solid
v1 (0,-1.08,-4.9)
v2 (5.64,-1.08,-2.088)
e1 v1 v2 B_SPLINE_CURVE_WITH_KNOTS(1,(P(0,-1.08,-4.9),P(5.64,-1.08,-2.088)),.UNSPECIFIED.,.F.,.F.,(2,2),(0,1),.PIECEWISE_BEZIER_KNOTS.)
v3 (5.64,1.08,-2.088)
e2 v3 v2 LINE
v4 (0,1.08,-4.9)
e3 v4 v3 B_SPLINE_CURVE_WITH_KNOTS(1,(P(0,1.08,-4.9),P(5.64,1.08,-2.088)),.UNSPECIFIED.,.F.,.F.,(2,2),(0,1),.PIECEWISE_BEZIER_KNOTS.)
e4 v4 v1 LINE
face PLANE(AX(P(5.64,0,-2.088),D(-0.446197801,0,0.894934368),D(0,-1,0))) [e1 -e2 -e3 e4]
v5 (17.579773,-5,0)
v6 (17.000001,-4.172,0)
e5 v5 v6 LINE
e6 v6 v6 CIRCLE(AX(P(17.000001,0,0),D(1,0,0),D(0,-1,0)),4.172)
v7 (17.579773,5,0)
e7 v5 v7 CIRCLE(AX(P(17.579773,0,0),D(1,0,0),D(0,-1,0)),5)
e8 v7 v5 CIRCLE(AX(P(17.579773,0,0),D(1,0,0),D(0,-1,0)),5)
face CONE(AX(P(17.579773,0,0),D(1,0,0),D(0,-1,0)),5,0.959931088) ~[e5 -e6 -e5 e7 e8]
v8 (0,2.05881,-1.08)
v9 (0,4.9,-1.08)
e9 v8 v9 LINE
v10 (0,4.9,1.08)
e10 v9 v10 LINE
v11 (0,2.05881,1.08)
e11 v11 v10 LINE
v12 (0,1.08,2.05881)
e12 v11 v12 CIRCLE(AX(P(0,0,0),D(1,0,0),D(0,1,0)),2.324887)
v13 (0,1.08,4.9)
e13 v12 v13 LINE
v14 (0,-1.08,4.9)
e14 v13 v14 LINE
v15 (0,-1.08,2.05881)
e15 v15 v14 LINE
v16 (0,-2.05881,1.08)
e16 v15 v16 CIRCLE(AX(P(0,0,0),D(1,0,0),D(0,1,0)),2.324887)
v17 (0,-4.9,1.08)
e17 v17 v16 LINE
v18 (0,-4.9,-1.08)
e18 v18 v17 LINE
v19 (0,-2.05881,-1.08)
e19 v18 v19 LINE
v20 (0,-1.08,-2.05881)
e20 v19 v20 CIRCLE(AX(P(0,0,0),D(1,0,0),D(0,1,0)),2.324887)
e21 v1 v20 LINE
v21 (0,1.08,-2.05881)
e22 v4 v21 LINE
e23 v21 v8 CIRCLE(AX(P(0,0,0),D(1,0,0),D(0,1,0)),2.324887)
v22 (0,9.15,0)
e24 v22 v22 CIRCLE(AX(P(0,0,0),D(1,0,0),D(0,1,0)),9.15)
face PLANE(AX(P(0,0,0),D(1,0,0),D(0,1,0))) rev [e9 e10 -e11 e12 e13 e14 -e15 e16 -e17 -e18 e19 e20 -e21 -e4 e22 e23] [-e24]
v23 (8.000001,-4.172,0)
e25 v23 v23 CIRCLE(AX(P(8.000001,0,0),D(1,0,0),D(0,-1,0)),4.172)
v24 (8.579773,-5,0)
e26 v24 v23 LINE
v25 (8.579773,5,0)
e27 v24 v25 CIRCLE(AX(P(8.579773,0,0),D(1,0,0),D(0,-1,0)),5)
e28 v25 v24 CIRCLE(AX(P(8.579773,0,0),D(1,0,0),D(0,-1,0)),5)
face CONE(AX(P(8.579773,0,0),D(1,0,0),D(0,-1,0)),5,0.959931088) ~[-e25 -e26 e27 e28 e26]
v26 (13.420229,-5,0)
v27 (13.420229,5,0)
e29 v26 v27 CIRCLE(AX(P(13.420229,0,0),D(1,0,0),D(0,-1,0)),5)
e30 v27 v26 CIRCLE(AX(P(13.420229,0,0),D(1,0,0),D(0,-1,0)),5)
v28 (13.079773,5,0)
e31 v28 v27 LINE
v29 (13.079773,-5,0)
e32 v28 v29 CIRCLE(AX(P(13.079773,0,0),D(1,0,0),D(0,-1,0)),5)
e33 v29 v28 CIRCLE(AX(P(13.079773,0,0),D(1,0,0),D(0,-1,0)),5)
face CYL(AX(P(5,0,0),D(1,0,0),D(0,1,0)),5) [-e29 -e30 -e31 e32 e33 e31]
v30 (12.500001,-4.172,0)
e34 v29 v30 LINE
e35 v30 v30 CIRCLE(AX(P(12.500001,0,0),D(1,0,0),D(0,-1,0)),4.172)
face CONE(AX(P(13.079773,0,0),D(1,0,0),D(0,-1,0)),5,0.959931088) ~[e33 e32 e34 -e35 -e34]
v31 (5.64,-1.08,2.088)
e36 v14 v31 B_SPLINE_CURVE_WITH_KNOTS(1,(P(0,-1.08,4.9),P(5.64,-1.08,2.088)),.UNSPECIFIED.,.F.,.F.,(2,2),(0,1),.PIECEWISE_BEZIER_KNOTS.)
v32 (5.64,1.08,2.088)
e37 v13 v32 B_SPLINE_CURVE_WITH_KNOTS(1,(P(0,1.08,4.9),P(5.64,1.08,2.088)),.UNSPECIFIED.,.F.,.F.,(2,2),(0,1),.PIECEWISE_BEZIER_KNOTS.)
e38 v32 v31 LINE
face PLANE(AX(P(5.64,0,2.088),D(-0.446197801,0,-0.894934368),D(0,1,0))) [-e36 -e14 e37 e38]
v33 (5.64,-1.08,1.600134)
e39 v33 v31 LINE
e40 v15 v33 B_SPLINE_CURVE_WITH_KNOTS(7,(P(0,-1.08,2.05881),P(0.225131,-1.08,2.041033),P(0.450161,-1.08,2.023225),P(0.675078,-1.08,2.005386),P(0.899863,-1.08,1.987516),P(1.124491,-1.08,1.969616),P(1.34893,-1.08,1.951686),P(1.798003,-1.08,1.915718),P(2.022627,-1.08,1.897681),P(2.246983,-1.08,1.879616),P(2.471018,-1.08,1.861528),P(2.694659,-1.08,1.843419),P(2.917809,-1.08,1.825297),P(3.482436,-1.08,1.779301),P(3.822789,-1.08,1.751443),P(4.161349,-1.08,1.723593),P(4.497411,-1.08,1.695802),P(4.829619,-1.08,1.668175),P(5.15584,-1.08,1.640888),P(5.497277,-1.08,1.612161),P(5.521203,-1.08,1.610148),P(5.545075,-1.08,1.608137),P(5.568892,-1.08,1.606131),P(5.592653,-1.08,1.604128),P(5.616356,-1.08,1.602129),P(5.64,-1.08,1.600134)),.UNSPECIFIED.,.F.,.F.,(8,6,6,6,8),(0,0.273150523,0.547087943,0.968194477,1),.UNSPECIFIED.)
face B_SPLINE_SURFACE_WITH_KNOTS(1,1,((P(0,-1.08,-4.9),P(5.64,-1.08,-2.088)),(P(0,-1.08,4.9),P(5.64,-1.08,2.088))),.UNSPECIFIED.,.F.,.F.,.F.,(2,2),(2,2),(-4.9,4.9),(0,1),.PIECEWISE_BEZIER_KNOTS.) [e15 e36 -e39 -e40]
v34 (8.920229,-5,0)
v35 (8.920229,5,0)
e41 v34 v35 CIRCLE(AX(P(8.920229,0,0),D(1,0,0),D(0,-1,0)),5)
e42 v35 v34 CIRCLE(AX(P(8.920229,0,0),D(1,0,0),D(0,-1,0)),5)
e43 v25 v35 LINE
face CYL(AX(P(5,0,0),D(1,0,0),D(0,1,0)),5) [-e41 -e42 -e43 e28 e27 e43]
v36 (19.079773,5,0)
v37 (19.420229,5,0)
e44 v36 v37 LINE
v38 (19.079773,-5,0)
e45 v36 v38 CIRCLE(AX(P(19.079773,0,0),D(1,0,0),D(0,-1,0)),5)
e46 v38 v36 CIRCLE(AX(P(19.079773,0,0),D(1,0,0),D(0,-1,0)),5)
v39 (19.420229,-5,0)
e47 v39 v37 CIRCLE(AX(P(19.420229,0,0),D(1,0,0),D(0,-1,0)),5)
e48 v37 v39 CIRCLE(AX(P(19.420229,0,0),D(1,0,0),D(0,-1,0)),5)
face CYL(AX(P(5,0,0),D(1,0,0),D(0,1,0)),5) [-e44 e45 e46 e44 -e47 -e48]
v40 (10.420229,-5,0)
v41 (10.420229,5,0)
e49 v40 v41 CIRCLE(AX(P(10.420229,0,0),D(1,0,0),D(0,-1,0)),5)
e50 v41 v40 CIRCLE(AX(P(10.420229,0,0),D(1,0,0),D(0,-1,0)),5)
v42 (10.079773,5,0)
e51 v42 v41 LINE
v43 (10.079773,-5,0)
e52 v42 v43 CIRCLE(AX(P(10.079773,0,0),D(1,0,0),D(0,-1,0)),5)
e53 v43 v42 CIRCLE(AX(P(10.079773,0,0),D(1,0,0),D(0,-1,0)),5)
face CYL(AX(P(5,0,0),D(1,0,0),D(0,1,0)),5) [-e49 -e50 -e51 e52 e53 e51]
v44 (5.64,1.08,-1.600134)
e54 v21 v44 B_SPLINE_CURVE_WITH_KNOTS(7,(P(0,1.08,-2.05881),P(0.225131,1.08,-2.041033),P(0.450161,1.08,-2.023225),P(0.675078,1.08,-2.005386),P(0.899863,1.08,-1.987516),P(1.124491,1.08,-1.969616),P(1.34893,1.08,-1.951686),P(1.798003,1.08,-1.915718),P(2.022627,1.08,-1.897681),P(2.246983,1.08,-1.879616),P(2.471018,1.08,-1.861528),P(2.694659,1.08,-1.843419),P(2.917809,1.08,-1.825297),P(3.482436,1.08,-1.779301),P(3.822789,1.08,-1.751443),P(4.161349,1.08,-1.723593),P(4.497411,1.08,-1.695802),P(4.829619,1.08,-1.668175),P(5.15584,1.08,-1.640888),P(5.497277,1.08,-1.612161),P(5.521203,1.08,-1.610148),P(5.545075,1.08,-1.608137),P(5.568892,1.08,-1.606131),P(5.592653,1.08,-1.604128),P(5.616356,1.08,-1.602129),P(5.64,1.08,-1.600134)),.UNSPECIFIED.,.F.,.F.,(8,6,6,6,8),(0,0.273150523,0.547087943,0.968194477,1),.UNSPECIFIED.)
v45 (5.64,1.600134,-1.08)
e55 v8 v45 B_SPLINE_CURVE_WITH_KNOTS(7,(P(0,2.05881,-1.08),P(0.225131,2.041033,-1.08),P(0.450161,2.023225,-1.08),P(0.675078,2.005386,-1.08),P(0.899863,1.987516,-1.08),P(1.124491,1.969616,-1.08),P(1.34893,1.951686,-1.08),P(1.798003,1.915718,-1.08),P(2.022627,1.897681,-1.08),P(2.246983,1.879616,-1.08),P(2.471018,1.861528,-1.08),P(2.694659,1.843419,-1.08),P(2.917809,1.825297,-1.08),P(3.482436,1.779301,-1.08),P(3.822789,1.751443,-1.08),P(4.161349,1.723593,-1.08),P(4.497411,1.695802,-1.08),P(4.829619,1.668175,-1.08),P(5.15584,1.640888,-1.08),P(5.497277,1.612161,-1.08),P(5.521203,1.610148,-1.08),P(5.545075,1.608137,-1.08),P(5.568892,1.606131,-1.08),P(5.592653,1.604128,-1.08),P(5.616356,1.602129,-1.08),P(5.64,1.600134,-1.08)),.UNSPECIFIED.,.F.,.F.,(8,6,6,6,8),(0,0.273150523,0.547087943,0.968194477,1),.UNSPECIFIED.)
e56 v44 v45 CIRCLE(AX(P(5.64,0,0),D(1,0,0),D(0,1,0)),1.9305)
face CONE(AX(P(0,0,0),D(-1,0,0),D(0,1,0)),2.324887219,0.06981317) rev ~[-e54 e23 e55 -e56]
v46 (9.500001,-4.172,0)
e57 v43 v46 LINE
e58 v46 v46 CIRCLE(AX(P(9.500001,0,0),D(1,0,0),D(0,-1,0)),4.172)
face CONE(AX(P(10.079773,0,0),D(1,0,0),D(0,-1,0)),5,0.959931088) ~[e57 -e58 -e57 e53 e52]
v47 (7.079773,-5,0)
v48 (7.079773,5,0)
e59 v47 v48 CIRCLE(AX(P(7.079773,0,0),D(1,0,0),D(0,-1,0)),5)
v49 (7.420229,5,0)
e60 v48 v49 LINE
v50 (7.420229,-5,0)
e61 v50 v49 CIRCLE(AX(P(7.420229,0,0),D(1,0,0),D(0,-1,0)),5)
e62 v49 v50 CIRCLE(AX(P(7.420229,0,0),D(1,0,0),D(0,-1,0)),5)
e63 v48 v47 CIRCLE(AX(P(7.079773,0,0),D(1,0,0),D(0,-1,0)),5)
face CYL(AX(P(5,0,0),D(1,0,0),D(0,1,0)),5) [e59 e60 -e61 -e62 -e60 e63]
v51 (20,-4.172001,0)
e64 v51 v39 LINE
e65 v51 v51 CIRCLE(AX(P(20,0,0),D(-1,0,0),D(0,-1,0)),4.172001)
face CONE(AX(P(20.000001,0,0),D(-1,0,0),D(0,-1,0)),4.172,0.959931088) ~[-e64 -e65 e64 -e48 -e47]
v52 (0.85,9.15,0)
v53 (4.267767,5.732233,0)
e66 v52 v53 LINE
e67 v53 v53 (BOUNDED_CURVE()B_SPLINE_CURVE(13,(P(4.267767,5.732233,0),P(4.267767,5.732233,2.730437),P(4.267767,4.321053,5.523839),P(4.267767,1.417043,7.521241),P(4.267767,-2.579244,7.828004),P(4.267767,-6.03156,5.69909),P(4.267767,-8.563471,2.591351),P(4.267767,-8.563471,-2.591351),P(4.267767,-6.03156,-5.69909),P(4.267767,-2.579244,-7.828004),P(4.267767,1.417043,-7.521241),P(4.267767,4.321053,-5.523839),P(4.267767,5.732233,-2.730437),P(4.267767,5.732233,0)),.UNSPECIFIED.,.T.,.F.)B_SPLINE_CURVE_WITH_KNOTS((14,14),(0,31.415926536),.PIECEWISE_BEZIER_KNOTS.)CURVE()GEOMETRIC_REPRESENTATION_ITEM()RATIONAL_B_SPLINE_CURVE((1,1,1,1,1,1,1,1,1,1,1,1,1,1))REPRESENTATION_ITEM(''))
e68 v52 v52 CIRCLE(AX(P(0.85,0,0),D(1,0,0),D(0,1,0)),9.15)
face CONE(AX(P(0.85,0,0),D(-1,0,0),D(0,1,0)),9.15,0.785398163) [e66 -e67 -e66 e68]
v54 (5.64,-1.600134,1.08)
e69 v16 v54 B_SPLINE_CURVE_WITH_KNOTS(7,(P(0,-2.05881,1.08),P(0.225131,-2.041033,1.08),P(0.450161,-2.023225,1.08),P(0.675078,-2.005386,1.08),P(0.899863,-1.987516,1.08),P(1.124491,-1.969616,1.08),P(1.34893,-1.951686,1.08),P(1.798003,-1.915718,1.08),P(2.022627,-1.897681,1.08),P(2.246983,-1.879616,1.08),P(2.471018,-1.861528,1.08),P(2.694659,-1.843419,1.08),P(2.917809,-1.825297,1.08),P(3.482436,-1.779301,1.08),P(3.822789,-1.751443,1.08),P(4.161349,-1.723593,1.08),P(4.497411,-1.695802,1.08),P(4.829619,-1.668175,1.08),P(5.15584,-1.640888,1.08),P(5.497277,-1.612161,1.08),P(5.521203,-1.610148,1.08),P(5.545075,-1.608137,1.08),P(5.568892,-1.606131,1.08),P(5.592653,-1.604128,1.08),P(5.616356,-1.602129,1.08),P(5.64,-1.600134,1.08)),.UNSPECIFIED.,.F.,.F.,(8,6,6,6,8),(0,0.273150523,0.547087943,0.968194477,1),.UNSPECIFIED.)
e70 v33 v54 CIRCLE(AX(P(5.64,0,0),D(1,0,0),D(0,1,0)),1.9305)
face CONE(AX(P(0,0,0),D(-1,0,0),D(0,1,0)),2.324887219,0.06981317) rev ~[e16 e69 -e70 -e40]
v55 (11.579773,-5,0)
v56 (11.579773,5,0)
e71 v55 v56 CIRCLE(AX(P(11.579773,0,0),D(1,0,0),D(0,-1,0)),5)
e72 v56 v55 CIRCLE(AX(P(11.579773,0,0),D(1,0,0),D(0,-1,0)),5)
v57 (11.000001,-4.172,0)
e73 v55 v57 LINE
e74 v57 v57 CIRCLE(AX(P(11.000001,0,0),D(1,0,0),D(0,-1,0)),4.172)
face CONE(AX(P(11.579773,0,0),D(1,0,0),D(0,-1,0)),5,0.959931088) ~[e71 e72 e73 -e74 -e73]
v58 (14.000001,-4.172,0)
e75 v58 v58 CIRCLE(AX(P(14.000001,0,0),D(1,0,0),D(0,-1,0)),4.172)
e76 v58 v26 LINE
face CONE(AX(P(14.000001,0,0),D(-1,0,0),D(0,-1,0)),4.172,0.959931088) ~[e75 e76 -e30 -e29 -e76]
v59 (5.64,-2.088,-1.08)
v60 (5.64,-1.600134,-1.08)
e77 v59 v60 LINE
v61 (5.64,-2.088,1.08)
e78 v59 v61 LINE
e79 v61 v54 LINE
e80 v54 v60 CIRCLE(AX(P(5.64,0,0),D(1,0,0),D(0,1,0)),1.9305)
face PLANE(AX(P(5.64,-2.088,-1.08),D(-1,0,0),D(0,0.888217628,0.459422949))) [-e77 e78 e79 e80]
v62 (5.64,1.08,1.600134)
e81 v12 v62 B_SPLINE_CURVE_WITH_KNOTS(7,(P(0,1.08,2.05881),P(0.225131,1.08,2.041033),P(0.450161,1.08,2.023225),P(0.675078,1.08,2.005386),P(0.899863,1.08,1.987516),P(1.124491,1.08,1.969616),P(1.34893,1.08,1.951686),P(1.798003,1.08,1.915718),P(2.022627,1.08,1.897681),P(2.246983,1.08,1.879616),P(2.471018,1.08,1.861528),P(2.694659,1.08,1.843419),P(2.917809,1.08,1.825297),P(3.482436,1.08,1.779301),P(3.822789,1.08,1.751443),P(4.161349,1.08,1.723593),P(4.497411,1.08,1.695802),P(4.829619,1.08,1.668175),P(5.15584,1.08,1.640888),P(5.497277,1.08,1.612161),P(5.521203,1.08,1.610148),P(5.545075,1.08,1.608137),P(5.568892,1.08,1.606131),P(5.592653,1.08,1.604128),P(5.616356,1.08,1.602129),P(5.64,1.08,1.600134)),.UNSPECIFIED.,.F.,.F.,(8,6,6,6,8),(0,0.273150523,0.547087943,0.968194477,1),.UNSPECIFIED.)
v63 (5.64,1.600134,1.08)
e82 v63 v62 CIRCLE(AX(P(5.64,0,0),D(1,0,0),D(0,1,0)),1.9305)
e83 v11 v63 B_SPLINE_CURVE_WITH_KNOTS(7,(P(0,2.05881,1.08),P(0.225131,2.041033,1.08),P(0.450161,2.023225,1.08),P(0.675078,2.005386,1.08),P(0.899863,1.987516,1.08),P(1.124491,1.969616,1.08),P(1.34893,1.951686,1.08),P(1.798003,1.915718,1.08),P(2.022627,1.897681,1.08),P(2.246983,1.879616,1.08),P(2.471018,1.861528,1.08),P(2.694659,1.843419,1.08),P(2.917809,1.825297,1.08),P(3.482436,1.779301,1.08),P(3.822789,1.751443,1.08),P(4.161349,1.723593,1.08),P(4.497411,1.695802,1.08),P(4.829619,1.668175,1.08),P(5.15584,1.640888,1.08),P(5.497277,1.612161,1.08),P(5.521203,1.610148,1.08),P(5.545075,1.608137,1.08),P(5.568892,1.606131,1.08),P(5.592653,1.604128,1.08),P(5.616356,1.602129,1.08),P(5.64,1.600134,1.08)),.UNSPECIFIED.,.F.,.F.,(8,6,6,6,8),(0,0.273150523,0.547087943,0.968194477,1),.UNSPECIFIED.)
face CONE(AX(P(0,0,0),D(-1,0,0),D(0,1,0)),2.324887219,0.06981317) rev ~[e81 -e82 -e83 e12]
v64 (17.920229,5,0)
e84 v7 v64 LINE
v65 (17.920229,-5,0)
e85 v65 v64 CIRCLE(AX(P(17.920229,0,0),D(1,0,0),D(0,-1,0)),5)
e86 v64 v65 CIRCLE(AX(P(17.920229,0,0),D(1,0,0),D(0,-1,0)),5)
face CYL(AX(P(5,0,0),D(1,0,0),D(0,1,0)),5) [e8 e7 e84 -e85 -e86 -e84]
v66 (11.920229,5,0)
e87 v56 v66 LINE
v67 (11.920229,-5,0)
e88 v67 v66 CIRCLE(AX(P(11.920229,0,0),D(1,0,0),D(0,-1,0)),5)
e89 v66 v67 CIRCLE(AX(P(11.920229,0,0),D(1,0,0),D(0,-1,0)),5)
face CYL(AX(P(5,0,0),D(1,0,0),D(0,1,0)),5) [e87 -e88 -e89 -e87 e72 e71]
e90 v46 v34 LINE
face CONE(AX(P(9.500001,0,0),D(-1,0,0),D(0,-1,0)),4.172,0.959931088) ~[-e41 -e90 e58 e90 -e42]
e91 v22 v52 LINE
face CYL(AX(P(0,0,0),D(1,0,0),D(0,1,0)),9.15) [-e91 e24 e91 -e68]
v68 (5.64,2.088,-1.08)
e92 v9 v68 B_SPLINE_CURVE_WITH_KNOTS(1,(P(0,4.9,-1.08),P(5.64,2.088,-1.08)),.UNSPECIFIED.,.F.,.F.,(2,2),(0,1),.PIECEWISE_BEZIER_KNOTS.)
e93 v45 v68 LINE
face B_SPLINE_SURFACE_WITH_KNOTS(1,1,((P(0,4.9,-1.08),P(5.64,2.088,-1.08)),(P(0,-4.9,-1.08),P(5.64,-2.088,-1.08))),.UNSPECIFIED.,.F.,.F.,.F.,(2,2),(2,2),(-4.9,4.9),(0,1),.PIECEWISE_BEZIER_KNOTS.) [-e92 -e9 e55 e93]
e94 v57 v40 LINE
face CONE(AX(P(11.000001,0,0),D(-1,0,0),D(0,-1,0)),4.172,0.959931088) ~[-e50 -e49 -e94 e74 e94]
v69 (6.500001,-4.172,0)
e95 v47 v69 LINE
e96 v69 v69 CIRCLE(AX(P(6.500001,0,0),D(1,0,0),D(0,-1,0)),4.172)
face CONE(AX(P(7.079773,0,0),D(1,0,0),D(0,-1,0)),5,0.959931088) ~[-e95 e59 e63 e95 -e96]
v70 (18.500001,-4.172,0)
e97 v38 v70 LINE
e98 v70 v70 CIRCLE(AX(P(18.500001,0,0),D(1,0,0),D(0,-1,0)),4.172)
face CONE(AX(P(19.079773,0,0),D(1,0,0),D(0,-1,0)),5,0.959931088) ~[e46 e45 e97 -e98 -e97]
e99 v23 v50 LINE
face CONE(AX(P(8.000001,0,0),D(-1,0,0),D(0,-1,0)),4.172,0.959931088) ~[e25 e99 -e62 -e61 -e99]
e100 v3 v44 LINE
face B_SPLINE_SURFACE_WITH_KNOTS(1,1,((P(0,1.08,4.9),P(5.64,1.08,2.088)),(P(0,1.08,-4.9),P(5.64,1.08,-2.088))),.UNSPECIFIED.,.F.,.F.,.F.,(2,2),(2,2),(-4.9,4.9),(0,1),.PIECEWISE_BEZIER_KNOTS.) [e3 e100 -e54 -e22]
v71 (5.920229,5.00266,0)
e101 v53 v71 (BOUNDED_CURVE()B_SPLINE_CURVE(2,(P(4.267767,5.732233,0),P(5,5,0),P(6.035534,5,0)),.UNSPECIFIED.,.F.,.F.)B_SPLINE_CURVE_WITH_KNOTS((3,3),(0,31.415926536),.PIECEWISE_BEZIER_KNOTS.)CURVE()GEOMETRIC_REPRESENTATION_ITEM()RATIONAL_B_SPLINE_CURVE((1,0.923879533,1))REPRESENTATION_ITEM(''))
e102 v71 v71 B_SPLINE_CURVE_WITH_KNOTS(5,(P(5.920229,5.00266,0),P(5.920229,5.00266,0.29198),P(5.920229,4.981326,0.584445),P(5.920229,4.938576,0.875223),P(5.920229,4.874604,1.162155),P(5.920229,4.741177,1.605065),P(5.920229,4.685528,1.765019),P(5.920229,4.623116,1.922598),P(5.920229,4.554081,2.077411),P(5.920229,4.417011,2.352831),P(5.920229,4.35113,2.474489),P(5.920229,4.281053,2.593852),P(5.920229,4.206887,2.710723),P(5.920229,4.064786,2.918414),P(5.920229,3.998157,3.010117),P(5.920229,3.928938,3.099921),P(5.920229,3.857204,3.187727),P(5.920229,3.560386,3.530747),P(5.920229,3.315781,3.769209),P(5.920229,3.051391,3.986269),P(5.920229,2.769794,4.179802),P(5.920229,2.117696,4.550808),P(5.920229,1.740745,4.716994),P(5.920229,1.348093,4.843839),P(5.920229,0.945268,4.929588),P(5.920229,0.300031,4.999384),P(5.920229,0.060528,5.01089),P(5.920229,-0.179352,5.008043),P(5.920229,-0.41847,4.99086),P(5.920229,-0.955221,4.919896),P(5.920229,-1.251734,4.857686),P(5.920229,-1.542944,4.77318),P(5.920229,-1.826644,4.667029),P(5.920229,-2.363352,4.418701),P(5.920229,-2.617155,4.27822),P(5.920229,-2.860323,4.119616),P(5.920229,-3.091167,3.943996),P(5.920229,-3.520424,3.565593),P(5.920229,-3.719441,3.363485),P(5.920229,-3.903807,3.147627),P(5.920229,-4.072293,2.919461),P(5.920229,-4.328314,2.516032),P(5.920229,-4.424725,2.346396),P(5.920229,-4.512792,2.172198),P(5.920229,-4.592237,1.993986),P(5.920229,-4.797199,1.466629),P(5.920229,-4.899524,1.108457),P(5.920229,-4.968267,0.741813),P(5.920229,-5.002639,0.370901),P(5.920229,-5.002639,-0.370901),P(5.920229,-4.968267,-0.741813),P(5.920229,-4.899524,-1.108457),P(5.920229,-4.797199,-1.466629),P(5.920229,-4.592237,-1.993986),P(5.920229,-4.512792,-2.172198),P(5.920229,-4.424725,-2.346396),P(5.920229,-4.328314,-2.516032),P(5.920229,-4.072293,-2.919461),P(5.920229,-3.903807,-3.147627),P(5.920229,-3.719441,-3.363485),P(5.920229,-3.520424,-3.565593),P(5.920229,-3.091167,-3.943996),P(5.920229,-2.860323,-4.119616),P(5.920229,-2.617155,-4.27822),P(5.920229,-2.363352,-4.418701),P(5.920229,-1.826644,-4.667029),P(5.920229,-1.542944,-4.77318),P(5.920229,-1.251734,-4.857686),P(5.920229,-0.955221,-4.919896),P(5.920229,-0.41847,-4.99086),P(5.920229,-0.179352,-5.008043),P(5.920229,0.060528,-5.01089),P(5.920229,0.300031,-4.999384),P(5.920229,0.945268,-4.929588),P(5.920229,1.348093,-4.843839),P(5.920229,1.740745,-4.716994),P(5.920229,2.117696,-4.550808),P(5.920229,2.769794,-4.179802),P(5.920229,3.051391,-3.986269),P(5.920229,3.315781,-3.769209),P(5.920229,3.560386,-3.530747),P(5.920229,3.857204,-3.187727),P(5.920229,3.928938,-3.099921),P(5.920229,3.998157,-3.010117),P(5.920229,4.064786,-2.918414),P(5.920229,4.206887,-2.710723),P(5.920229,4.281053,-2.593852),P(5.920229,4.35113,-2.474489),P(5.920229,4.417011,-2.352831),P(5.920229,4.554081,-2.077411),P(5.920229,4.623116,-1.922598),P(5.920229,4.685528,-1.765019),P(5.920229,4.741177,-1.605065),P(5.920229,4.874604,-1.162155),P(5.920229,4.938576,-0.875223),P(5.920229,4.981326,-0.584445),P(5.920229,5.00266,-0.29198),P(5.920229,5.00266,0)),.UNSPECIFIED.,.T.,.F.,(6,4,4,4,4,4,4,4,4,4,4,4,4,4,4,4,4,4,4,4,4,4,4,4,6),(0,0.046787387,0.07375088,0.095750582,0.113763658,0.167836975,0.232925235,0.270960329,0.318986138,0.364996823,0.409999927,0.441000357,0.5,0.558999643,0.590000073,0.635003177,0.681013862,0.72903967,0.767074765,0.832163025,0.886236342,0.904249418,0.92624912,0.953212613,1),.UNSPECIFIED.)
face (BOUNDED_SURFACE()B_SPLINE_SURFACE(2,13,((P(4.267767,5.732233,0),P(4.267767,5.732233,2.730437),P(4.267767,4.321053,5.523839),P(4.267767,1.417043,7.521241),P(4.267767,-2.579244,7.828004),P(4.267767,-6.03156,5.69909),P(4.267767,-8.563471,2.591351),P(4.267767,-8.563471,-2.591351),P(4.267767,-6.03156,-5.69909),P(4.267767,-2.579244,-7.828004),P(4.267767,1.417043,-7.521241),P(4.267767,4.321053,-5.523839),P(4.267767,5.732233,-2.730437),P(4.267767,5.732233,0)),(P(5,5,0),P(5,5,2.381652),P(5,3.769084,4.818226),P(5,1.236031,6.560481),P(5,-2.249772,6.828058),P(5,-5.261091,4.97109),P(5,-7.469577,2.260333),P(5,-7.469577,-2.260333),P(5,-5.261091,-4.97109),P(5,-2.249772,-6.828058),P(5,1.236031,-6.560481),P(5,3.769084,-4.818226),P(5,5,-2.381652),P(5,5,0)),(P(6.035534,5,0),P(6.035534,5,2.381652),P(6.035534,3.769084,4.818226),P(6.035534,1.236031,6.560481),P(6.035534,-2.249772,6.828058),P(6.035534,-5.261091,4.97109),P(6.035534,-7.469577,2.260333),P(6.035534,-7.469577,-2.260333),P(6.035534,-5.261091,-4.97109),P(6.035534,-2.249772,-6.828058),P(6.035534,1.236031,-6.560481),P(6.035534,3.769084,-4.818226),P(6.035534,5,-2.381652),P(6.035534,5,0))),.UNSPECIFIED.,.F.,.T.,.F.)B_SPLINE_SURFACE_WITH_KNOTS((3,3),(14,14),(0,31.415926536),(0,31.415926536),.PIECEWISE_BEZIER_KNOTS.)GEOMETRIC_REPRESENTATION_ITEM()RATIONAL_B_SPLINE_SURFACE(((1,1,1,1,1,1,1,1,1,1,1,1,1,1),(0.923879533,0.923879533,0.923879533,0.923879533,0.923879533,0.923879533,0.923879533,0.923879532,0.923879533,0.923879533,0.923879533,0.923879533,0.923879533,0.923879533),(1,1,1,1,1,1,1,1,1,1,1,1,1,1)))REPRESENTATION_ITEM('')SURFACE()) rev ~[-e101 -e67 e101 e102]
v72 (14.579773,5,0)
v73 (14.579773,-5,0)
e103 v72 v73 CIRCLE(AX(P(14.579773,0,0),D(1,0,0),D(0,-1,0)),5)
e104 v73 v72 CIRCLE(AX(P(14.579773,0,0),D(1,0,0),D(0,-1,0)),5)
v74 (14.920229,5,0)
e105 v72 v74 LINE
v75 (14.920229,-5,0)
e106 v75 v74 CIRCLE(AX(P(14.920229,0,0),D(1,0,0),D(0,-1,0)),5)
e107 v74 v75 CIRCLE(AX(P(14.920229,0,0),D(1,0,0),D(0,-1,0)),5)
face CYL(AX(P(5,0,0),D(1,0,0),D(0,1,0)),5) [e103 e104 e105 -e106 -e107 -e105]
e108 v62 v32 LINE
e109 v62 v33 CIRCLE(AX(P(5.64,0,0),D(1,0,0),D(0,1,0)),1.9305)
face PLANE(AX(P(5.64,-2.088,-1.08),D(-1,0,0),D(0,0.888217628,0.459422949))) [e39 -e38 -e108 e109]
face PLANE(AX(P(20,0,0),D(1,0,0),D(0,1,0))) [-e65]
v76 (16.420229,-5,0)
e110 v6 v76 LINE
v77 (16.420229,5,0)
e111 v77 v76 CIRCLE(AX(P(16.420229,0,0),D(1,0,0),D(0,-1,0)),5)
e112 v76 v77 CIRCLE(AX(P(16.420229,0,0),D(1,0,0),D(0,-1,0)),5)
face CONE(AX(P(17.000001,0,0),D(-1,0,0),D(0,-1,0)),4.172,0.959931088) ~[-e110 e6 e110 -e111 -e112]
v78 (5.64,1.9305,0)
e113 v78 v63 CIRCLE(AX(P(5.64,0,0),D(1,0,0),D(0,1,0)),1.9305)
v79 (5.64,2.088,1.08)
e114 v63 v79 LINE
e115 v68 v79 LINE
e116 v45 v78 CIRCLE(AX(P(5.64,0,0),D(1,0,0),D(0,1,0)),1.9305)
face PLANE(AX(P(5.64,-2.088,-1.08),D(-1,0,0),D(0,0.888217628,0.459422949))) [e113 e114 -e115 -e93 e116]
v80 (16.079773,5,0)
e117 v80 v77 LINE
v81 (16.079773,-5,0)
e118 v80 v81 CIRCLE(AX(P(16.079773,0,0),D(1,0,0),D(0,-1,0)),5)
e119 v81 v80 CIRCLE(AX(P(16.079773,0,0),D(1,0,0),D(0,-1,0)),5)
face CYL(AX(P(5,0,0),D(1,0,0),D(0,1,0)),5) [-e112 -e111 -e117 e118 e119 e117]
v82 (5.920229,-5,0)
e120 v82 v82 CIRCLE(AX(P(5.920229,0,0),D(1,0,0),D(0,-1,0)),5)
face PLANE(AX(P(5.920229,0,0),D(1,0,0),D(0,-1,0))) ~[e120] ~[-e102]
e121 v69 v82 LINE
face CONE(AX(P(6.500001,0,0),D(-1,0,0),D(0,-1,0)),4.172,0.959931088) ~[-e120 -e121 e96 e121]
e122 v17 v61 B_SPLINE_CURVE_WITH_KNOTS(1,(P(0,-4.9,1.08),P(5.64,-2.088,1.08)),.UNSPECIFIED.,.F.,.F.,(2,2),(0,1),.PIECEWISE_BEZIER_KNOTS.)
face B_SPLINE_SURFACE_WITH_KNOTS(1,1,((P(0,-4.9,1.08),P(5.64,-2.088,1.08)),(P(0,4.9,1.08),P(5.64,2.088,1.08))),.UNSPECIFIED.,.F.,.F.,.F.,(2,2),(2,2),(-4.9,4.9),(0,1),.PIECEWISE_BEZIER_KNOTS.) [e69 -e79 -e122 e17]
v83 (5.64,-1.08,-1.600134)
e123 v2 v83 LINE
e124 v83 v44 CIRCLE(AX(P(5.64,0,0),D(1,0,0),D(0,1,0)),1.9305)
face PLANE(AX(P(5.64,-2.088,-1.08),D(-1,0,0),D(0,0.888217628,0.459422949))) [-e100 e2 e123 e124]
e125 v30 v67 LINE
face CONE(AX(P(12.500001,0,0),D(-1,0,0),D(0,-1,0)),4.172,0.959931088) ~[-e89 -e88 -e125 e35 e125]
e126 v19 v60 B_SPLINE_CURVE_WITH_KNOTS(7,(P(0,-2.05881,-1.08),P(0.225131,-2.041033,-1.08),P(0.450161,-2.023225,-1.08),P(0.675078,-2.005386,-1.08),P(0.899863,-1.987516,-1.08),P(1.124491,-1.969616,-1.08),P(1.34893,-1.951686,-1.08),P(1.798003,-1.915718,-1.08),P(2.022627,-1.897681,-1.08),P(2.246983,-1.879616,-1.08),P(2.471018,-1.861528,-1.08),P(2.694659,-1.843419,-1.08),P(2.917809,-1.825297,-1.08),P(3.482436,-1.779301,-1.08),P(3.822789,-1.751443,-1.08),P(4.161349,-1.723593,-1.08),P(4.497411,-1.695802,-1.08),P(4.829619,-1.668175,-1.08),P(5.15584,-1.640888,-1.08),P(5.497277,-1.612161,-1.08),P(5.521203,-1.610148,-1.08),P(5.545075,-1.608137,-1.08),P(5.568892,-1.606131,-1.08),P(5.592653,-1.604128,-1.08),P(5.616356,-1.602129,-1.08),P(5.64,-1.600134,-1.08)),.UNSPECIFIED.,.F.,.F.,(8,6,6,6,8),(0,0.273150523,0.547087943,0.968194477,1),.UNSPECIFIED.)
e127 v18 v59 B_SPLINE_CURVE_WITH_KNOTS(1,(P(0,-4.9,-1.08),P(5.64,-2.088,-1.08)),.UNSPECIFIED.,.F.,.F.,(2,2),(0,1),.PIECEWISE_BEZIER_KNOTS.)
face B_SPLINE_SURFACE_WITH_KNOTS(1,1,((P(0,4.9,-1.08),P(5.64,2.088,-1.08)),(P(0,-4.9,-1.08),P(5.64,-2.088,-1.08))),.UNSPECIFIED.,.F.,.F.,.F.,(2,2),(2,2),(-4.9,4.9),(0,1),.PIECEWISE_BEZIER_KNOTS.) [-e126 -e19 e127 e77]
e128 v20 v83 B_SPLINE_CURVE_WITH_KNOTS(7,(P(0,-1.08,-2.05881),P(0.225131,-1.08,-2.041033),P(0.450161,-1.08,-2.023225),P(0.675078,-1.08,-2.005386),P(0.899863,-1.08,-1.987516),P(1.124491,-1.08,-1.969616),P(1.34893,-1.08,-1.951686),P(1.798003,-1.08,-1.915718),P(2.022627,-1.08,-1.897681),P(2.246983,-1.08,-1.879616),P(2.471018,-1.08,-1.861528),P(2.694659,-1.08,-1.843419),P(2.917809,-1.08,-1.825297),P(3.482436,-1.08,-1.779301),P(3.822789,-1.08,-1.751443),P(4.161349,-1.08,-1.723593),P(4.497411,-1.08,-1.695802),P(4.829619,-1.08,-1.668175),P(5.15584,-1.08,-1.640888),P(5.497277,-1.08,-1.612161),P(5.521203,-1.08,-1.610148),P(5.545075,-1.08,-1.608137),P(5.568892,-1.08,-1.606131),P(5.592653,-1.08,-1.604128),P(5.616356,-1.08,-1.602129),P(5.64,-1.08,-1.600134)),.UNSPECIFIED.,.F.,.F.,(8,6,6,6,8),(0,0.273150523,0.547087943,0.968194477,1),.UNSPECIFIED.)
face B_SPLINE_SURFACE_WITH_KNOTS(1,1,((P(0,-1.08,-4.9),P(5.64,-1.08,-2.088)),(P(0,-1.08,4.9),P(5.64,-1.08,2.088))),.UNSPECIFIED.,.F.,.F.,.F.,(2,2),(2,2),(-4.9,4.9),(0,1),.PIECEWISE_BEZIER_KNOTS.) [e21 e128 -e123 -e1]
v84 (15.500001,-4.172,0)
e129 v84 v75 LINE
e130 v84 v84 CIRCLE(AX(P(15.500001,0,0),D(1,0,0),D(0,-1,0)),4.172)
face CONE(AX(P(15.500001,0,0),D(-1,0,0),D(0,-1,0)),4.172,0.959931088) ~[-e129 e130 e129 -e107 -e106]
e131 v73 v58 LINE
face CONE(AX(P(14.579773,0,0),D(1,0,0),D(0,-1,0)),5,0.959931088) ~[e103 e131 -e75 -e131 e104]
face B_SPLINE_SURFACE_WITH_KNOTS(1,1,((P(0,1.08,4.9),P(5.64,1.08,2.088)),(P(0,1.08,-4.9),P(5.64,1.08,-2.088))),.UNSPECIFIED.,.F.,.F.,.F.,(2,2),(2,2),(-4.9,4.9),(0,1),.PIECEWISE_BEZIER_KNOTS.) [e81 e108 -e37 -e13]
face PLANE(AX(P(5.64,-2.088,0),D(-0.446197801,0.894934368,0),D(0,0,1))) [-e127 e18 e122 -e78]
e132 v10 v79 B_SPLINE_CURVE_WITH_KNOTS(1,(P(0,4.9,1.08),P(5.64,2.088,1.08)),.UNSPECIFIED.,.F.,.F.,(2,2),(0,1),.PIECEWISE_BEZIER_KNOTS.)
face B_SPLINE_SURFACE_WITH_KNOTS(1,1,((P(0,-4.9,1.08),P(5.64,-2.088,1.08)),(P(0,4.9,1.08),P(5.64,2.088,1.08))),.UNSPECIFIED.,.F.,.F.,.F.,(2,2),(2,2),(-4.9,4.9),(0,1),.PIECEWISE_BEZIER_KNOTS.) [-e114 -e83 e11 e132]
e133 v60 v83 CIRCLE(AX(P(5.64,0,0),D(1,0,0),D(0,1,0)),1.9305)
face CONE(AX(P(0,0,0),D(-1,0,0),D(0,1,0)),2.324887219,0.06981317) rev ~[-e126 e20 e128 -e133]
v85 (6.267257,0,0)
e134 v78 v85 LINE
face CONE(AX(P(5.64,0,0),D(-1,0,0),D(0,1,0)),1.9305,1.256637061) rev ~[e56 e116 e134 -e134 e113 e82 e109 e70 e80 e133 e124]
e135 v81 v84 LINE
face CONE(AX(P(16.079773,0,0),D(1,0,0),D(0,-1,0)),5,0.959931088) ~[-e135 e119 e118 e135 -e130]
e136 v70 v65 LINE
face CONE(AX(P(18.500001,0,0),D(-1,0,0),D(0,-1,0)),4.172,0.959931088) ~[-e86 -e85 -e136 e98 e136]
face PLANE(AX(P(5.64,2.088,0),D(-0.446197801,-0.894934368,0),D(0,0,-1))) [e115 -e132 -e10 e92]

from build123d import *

# Parameters (mm, degrees)
FILLET1_R       = 2.5
SKETCH3_W       = 2.16
SKETCH3_H       = 9.8
SKETCH4_W       = 2.16
SKETCH4_H       = 4.175999656
RECPAT_COUNT    = 2
RECPAT_ANGLE    = 90
THDSCHPAT_COUNT = 10
THDSCHPAT_PITCH = 1.5


with BuildPart() as part:
    # BodySke → Base-Revolve (revolve)
    with BuildSketch(Plane.XY):
        Polygon((0, 0), (0, 9.15), (0.85, 9.15), (5, 5), (20, 5), (20, 0), align=None)
    revolve(axis=Axis((-6.35, 0, 0), (1, 0, 0)))

    # Fillet1
    fillet1_edges = [part.edges().sort_by_distance(p)[0] for p in [
        (5, -5, 0),
    ]]
    fillet(fillet1_edges, radius=FILLET1_R)

    # Sketch3 → Recess section 0
    with BuildSketch(Plane.ZY):
        Rectangle(SKETCH3_W, SKETCH3_H)
    # Sketch4 → Recess section 1
    with BuildSketch(Plane.ZY.offset(-5.64)):
        Rectangle(SKETCH4_W, SKETCH4_H)
    recess = loft(mode=Mode.SUBTRACT)

    # RecPat: Recess ×2 about axis
    recpat_axis = Axis((0, 0, 0), (1, 0, 0))
    for i in range(1, RECPAT_COUNT):
        add(recess.rotate(recpat_axis, i * RECPAT_ANGLE / (RECPAT_COUNT - 1)), mode=Mode.SUBTRACT)

    # RecCorSke → RecessCore (revolve, cut)
    with BuildSketch(Plane.XY):
        Polygon((0, 0), (0, 2.324887219), (5.64, 1.9305), (6.267257474, 0), align=None)
    revolve(axis=Axis((-3.175, 0, 0), (1, 0, 0)), mode=Mode.SUBTRACT)

    # ThdSchSke → ThreadSchematic (revolve, cut)
    with BuildSketch(Plane.XY):
        Polygon((6.500001, -4.172), (5.920229158, -5), (5.920229158, -6.25), (7.079772842, -6.25), (7.079772842, -5), align=None)
    threadschematic = revolve(axis=Axis((-3.175, 0, 0), (1, 0, 0)), mode=Mode.SUBTRACT)

    # ThdSchPat: ThreadSchematic ×10
    with Locations(*[(i * THDSCHPAT_PITCH, 0, 0) for i in range(1, THDSCHPAT_COUNT)]):
        add(threadschematic, mode=Mode.SUBTRACT)


solid = part.part
